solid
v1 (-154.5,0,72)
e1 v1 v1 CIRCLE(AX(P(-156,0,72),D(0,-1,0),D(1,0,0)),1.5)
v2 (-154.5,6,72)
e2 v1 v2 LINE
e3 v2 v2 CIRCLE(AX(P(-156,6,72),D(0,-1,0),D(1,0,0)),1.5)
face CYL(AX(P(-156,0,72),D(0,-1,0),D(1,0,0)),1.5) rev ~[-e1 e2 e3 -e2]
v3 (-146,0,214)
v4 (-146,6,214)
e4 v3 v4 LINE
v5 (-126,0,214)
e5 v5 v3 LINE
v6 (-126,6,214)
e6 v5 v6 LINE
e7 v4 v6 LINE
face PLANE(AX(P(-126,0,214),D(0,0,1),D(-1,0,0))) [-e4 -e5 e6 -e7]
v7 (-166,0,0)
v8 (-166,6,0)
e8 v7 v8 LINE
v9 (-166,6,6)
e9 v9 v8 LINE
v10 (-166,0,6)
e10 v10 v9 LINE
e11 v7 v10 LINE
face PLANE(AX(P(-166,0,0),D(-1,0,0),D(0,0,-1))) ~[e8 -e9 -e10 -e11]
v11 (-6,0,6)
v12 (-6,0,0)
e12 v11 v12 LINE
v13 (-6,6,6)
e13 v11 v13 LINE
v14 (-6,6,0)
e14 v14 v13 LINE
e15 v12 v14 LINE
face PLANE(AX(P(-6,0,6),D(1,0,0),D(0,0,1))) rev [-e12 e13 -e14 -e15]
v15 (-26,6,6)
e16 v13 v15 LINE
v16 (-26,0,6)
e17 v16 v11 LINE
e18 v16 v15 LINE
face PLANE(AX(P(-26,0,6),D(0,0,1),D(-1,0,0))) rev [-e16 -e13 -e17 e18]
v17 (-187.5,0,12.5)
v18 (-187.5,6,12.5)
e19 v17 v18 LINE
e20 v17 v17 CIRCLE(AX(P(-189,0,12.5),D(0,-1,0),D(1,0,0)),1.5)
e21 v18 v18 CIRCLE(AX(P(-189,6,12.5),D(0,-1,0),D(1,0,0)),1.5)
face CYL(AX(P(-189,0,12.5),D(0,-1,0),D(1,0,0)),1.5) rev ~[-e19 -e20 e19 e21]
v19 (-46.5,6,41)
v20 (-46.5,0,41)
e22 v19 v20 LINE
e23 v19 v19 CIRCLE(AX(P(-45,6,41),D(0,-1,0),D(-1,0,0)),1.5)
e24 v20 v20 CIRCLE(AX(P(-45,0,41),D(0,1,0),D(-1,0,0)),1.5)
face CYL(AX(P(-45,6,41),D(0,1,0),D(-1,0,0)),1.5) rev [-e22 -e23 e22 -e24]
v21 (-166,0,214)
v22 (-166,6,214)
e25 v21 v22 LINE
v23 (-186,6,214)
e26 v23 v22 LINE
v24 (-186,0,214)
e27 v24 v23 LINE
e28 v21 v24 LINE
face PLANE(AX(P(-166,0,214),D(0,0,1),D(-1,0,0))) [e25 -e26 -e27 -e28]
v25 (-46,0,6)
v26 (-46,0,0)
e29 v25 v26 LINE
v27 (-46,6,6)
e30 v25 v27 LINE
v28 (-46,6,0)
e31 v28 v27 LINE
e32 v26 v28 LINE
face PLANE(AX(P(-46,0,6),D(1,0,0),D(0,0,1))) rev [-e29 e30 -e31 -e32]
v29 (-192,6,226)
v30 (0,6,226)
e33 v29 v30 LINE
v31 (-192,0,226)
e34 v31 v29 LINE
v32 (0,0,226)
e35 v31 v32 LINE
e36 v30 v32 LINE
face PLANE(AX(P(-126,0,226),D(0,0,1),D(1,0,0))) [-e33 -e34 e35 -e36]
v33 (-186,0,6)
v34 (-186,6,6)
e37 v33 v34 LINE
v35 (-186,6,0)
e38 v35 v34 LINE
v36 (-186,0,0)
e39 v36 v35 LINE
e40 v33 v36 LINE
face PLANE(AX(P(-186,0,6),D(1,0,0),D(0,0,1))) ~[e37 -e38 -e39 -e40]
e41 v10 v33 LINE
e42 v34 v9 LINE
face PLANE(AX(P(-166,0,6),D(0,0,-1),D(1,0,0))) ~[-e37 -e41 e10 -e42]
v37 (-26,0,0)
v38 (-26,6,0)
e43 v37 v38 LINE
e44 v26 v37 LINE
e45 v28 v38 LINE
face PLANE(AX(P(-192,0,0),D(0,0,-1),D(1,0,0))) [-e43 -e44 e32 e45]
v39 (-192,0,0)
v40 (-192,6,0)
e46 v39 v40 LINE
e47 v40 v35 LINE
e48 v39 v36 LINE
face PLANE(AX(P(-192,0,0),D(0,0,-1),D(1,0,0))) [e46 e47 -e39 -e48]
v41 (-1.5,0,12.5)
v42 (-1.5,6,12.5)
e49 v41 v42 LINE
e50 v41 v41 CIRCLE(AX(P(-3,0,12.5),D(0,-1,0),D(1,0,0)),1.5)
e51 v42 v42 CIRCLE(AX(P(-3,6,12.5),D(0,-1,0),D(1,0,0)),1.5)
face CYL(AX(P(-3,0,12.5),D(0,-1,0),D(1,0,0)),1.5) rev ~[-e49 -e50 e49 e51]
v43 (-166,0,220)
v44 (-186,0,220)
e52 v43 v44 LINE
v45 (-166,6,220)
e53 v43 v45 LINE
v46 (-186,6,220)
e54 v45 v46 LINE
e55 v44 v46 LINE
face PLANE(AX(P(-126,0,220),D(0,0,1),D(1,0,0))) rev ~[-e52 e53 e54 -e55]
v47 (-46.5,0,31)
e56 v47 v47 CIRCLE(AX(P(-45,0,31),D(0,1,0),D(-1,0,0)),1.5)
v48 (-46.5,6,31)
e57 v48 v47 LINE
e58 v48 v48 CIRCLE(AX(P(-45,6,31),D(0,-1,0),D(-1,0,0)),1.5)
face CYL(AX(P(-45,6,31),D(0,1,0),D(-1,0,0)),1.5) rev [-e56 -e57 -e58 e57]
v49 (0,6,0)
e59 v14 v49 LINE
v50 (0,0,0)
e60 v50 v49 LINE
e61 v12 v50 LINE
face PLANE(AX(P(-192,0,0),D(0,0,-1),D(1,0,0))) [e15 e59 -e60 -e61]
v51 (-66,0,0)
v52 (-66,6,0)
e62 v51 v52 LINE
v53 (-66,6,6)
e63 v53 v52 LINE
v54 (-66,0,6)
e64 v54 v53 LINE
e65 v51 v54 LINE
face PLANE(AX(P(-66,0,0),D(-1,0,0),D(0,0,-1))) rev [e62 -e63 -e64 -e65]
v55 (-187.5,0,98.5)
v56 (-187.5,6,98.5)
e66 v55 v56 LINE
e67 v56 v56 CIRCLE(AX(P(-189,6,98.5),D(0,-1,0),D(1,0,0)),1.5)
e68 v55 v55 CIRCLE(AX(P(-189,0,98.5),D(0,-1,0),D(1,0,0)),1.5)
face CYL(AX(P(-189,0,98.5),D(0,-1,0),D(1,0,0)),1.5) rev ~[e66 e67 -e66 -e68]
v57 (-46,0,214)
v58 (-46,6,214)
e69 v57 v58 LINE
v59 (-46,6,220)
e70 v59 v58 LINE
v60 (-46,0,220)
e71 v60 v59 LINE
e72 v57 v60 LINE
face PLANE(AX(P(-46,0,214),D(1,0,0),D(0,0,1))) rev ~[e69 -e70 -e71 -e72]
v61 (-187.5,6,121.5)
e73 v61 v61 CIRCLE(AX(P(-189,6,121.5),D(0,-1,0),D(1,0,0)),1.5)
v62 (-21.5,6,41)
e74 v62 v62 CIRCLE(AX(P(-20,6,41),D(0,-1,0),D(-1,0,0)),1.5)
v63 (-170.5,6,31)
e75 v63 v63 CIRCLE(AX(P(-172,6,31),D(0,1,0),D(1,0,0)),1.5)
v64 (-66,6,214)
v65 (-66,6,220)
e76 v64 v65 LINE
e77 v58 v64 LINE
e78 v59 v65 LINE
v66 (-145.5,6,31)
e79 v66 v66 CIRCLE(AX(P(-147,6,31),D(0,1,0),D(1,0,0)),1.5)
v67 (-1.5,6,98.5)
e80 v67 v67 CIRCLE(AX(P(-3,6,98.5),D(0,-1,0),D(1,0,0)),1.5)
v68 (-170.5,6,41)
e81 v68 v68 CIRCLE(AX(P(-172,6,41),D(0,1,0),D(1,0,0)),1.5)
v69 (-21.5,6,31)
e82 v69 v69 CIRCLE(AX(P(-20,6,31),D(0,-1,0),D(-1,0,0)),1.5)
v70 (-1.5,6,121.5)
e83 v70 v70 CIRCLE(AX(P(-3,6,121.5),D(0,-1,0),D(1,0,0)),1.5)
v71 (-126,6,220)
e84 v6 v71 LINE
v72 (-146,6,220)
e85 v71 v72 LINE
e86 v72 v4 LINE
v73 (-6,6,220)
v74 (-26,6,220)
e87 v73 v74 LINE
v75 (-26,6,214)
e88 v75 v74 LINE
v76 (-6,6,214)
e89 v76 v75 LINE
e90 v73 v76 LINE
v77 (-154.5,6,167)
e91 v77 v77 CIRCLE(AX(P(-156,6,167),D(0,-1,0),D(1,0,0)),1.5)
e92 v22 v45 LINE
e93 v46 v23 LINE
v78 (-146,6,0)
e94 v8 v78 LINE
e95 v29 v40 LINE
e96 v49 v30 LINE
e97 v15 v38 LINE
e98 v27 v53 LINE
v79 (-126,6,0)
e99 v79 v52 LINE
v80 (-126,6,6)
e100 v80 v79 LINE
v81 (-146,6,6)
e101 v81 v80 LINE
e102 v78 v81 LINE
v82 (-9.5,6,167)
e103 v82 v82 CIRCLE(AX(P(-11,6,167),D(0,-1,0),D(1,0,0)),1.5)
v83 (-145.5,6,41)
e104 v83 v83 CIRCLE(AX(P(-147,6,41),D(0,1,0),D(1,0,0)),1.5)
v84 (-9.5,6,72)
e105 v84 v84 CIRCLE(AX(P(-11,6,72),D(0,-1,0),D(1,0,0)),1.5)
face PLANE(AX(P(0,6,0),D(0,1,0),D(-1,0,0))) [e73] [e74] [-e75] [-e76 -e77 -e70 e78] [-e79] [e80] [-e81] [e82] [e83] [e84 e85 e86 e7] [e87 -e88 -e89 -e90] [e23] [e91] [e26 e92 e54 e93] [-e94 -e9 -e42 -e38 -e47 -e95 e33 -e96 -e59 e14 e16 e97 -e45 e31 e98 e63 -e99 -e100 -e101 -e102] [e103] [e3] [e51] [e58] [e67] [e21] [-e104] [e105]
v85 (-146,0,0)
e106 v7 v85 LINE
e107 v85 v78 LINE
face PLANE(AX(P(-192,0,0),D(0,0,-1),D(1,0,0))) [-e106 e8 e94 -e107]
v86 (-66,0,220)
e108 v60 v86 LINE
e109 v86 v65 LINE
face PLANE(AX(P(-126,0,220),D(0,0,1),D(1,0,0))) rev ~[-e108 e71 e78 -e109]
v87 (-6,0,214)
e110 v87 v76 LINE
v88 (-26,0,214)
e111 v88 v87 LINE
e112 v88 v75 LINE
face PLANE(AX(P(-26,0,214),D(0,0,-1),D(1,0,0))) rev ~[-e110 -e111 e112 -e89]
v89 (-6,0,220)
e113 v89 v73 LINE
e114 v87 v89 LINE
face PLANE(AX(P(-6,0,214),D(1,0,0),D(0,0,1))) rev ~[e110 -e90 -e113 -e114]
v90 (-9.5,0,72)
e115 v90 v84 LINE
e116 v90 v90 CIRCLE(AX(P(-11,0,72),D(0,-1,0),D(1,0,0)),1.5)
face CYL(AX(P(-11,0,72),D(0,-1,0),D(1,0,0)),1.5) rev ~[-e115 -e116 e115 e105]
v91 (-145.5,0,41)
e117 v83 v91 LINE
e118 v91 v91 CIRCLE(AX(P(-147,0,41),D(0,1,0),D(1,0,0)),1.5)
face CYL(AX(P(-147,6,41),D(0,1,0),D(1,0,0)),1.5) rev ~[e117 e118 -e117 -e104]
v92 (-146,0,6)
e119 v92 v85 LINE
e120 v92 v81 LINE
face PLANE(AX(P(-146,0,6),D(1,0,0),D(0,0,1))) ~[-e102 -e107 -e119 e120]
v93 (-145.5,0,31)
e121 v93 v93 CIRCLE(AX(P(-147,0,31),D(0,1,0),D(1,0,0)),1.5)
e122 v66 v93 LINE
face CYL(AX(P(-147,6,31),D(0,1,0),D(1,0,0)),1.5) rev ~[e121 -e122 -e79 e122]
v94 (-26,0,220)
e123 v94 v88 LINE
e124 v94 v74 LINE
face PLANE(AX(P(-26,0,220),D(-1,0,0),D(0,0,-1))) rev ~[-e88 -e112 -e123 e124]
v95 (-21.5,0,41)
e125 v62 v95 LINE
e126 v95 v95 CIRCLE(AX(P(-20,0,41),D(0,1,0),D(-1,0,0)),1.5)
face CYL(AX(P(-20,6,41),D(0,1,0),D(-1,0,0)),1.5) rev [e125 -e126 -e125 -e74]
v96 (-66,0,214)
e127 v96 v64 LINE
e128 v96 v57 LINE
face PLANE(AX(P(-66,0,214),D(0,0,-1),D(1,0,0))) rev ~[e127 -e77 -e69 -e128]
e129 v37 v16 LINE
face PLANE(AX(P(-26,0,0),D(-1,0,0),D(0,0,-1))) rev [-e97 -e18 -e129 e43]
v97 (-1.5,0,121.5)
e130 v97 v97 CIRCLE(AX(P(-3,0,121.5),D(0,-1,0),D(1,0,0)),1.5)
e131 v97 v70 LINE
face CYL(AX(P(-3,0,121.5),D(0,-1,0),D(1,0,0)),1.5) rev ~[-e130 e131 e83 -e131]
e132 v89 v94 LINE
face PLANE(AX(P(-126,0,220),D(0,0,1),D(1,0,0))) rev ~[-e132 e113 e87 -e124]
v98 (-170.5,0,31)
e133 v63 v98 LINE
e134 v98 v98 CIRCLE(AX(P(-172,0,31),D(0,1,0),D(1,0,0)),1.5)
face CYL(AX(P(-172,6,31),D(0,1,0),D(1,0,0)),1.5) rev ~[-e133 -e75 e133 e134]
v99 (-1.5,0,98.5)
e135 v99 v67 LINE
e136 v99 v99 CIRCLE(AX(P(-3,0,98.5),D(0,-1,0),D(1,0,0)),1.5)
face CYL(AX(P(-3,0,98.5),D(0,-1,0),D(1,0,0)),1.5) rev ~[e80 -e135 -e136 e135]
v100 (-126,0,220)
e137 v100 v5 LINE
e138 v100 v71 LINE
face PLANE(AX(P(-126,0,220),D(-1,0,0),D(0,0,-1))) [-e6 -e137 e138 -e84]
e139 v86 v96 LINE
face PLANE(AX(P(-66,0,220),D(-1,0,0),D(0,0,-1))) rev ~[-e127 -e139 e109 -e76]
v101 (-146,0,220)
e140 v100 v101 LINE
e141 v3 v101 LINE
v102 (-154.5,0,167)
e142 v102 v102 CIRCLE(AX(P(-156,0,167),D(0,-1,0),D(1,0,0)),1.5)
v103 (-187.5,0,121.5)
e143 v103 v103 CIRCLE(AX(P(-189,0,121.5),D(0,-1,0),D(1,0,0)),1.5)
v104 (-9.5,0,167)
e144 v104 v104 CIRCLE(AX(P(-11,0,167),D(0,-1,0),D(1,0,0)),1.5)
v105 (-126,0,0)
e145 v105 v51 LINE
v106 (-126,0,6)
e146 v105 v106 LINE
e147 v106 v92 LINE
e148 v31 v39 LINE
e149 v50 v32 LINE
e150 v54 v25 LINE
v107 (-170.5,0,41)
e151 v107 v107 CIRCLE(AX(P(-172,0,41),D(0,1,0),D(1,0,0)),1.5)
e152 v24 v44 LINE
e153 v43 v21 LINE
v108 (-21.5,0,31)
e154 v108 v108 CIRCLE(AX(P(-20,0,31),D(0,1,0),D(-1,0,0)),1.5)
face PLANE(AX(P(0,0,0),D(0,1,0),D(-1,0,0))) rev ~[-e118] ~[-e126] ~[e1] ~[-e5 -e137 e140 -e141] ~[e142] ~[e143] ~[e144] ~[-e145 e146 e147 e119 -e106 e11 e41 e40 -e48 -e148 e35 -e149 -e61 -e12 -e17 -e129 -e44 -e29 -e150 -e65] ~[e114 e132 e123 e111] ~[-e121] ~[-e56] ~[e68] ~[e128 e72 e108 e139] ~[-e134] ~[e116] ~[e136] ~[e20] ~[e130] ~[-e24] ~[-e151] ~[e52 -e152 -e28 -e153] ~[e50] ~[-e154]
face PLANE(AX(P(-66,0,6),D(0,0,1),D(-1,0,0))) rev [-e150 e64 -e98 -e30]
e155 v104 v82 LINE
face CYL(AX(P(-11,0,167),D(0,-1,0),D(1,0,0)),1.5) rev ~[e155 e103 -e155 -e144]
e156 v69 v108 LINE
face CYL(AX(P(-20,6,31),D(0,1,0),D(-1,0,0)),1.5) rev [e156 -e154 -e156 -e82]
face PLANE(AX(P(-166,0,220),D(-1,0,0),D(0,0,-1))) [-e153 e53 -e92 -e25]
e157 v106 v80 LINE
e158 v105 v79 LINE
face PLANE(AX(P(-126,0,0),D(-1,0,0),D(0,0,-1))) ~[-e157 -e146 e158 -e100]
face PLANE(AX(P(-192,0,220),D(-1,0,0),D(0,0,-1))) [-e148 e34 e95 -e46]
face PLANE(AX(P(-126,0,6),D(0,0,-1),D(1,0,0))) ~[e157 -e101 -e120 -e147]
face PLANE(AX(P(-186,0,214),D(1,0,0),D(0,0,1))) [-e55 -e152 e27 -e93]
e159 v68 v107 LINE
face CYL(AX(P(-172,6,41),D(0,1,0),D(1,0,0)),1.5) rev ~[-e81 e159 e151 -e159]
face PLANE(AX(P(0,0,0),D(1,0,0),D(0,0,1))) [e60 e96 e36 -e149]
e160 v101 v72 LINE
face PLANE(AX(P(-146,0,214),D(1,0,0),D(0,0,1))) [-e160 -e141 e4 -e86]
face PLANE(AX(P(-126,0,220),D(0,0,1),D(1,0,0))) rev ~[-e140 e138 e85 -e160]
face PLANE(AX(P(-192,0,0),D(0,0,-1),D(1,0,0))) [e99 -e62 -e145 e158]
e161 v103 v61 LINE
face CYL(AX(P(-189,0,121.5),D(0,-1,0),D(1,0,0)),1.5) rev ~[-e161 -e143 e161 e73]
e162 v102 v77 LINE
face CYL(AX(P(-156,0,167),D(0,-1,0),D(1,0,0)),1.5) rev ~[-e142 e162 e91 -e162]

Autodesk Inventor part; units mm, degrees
ref_plane "YZ Plane" through (0, 0, 0) normal (1, 0, 0) x (0, 1, 0)
sketch "Эскиз1" plane through (0, 0, 0) normal (0, 1, 0) x (-1, 0, 0)
  line L0 (0, 220) -> (192, 220)
  line L1 (192, 220) -> (192, 0)
  line L2 (192, 0) -> (0, 0)
  line L3 (0, 0) -> (0, 220)
  circle A0 centre (11, 217) radius 1.5
  circle A1 centre (181, 217) radius 1.5
  circle A2 centre (5, 3) radius 1.5
  circle A3 centre (187, 3) radius 1.5
  line L4 (186, 6) -> (6, 6)
  line L5 (6, 6) -> (6, 244)
  line L6 (6, 244) -> (186, 244)
  line L7 (186, 244) -> (186, 6)
  dimension "d0" = 192
  dimension "d1" = 170
  dimension "d2" = 220
  dimension "d3" = 11
  dimension "d4" = 3
  dimension "d5" = 3
  dimension "d6" = 3
  dimension "d7" = 3
  dimension "d8" = 3
  dimension "d9" = 5
  dimension "d10" = 3
  dimension "d11" = 3
  dimension "d12" = 5
  dimension "d13" = 3
  dimension "d16" = 238
  dimension "d18" = 180
  dimension "d19" = 6
  dimension "d20" = 6
extrude "Выдавливание2" add sketch "Эскиз1" along normal blind 6 contours L0 L5 L4 L7 L1 L2 L3 | L0 L7 L4 L5 | A0 | A1 | A2 | A3
sketch "Эскиз2" plane through (0, 0, 0) normal (0, -1, 0) x (1, 0, 0)
  line L0 (-192, 220) -> (0, 220) projected
  line L1 (-6, 220) -> (-26, 220)
  line L2 (-26, 220) -> (-26, 214)
  line L3 (-26, 214) -> (-6, 214)
  line L4 (-6, 214) -> (-6, 220)
  line L5 (-46, 220) -> (-66, 220)
  line L6 (-66, 220) -> (-66, 214)
  line L7 (-66, 214) -> (-46, 214)
  line L8 (-46, 214) -> (-46, 220)
  line L9 (-186, 220) -> (-166, 220)
  line L10 (-166, 220) -> (-166, 214)
  line L11 (-166, 214) -> (-186, 214)
  line L12 (-186, 214) -> (-186, 220)
  line L13 (-146, 220) -> (-126, 220)
  line L14 (-126, 220) -> (-126, 214)
  line L15 (-126, 214) -> (-146, 214)
  line L16 (-146, 214) -> (-146, 220)
  line L17 (0, 220) -> (0, 0) projected
  line L18 (-192, 0) -> (-192, 220) projected
  point P0 (-66, 217)
  point P1 (-46, 217)
  point P2 (-26, 217)
  point P3 (-146, 217)
  point P4 (-126, 217)
  point P5 (-166, 217)
  point P6 (-186, 217)
  point P7 (-166, 220)
  point P8 (-126, 220)
  dimension "d23" = 6
  dimension "d24" = 20
  dimension "d25" = 6
  dimension "d26" = 20
  dimension "d27" = 20
  dimension "d28" = 20
  dimension "d29" = 20
  dimension "d30" = 20
  dimension "d31" = 6
extrude "Выдавливание3" cut sketch "Эскиз2" against normal through all
ref_plane "РабПлоскость1" through (-126, 0, 110) normal (0, 0, 1) x (1, 0, 0)
mirror "Зеркальное отражение1" about plane through (-126, 0, 110) normal (0, 0, 1) of "Выдавливание3"
sketch "Эскиз3" plane through (0, 0, 0) normal (0, -1, 0) x (1, 0, 0)
  circle A0 centre (-3, 98.5) radius 1.5
  circle A1 centre (-3, 121.5) radius 1.5
  circle A2 centre (-189, 98.5) radius 1.5
  circle A3 centre (-189, 121.5) radius 1.5
  line L0 (-192, 0) -> (-192, 220) projected
  line L1 (-231.3831, 110) -> (44.2986, 110) projected
  line L2 (0, 220) -> (0, 0) projected
  dimension "d34" = 3
  dimension "d35" = 3
  dimension "d36" = 3
  dimension "d37" = 11.5
  dimension "d38" = 3
  dimension "d39" = 11.5
  dimension "d40" = 3
  dimension "d41" = 3
  dimension "d43" = 11.5
  dimension "d44" = 3
  dimension "d45" = 3
  dimension "d46" = 11.5
extrude "Выдавливание4" cut sketch "Эскиз3" against normal blind 10
sketch "Эскиз4" plane through (0, 6, 0) normal (0, 1, 0) x (1, 0, 0)
  line L0 (4.3155, -27.8106) -> (4.3155, -29.0145) projected
  line L1 (4.3155, -43.2101) -> (4.3155, -29.2101) projected
  line L2 (4.3155, -31.8771) -> (4.3155, -40.1101) projected
  line L3 (4.3155, -27.8106) -> (4.3155, -29.0145) projected
  circle A0 centre (-3, -121.5) radius 1.5 projected
  circle A1 centre (-189, -121.5) radius 1.5 projected
  circle A2 centre (-3, -98.5) radius 1.5 projected
  circle A3 centre (-189, -98.5) radius 1.5 projected
  line L4 (-126, 0) -> (-126, -6) projected
  line L5 (-126, -6) -> (-146, -6) projected
  line L6 (-146, -6) -> (-146, 0) projected
  line L7 (-146, 0) -> (-166, 0) projected
  line L8 (-166, 0) -> (-166, -6) projected
  line L9 (-166, -6) -> (-186, -6) projected
  line L10 (-186, -6) -> (-186, 0) projected
  line L11 (-186, 0) -> (-192, 0) projected
  line L12 (-192, 0) -> (-192, -220) projected
  line L13 (-192, -220) -> (-186, -220) projected
  line L14 (-186, -220) -> (-186, -214) projected
  line L15 (-186, -214) -> (-166, -214) projected
  line L16 (-166, -214) -> (-166, -220) projected
  line L17 (-166, -220) -> (-146, -220) projected
  line L18 (-146, -220) -> (-146, -214) projected
  line L19 (-146, -214) -> (-126, -214) projected
  line L20 (-126, -214) -> (-126, -220) projected
  line L21 (-126, -220) -> (-66, -220) projected
  line L22 (-66, -220) -> (-66, -214) projected
  line L23 (-66, -214) -> (-46, -214) projected
  line L24 (-46, -214) -> (-46, -220) projected
  line L25 (-46, -220) -> (-26, -220) projected
  line L26 (-26, -220) -> (-26, -214) projected
  line L27 (-26, -214) -> (-6, -214) projected
  line L28 (-6, -214) -> (-6, -220) projected
  line L29 (-6, -220) -> (0, -220) projected
  line L30 (0, -220) -> (0, 0) projected
  line L31 (0, 0) -> (-6, 0) projected
  line L32 (-6, 0) -> (-6, -6) projected
  line L33 (-6, -6) -> (-26, -6) projected
  line L34 (-26, -6) -> (-26, 0) projected
  line L35 (-26, 0) -> (-46, 0) projected
  line L36 (-46, 0) -> (-46, -6) projected
  line L37 (-46, -6) -> (-66, -6) projected
  line L38 (-66, -6) -> (-66, 0) projected
  line L39 (-66, 0) -> (-126, 0) projected
  line L40 (0, -27.5) -> (0, -30.5) projected
  line L41 (-6, -30.5) -> (-6, -27.5) projected
  line L42 (0, -27.5) -> (0, -30.5) projected
  line L43 (-6, -30.5) -> (-6, -27.5) projected
  line L44 (0, -41.5) -> (0, -44.5) projected
  line L45 (-6, -44.5) -> (-6, -41.5) projected
  line L46 (0, -29) -> (0, -43) projected
  line L47 (-6, -43) -> (-6, -29) projected
  line L48 (0, -41.5) -> (0, -44.5) projected
  line L49 (-6, -44.5) -> (-6, -41.5) projected
  line L50 (4.3155, -22.5218) -> (4.3155, -51.048)
  line L51 (4.9155, -36.9084) -> (0.7155, -36.9084)
  line L52 (4.3155, -22.5218) -> (4.3155, -51.048)
  line L53 (1.3155, -44.914) -> (1.3155, -41.914) projected
  line L54 (4.3155, -44.914) -> (4.3155, -41.914) projected
  line L55 (4.3155, -43.6493) -> (1.3155, -43.6493) projected
  line L56 (4.3155, -40.543) -> (1.3155, -40.543) projected
  line L57 (1.3155, -40.543) -> (1.3155, -46.3135) projected
  line L58 (4.3155, -40.543) -> (4.3155, -46.3135) projected
  line L59 (1.3155, -32.3101) -> (1.3155, -40.543) projected
  line L60 (4.3155, -43.4057) -> (4.3155, -44.6096) projected
  line L61 (4.3155, -32.3101) -> (1.3155, -32.3101) projected
  line L62 (4.3155, -32.3101) -> (4.3155, -40.543) projected
  line L63 (1.3155, -30.9201) -> (1.3155, -27.9201) projected
  line L64 (4.3155, -30.9201) -> (4.3155, -27.9201) projected
  line L65 (1.3155, -26.5206) -> (1.3155, -32.3101) projected
  line L66 (4.3155, -26.5206) -> (4.3155, -32.3101) projected
  line L67 (4.3155, -31.8771) -> (1.3155, -31.8771) projected
  line L68 (4.3155, -28.7709) -> (1.3155, -28.7709) projected
  line L69 (1.3155, -31.8771) -> (1.3155, -40.1101) projected
  line L70 (4.3155, -31.8771) -> (4.3155, -40.1101) projected
  line L71 (1.3155, -43.2101) -> (1.3155, -29.2101) projected
  line L72 (4.3155, -43.2101) -> (4.3155, -29.2101) projected
  line L73 (1.3155, -26.1066) -> (1.3155, -31.8771) projected
  line L74 (4.3155, -26.1066) -> (4.3155, -31.8771) projected
  line L75 (1.3155, -43.4057) -> (1.3155, -44.6096) projected
  line L76 (1.3155, -44.5) -> (1.3155, -41.5) projected
  line L77 (4.3155, -44.5) -> (4.3155, -41.5) projected
  line L78 (4.3155, -43.4057) -> (1.3155, -43.4057) projected
  line L79 (4.3155, -40.1101) -> (1.3155, -40.1101) projected
  line L80 (1.3155, -40.1101) -> (1.3155, -45.8995) projected
  line L81 (4.3155, -40.1101) -> (4.3155, -45.8995) projected
  line L82 (1.3155, -30.5061) -> (1.3155, -27.5061) projected
  line L83 (4.3155, -29.0145) -> (1.3155, -29.0145) projected
  line L84 (4.3155, -27.8106) -> (4.3155, -29.0145) projected
  line L85 (4.3155, -30.5061) -> (4.3155, -27.5061) projected
  line L86 (1.3155, -27.8106) -> (1.3155, -29.0145) projected
  line L87 (4.3155, -41.914) -> (4.3155, -44.914) projected
  line L88 (4.3155, -40.5145) -> (4.3155, -46.3135) projected
  line L89 (4.3155, -43.3697) -> (4.3155, -43.0444) projected
  line L90 (4.3155, -41.5) -> (4.3155, -44.5) projected
  line L91 (4.3155, -40.1005) -> (4.3155, -45.8995) projected
  line L92 (4.3155, -22.2315) -> (4.3155, -52.6365) construction
  line L93 (4.3155, -23.5797) -> (4.3155, -51.7445) construction
  line L94 (4.3155, -35.5823) -> (4.3155, -36.4187) projected
  line L95 (4.3155, -30.9195) -> (4.3155, -41.9147) projected
  line L96 (4.3155, -42.8814) -> (4.3155, -43.61) construction
  line L97 (4.3155, -29.0505) -> (4.3155, -29.2131) projected
  line L98 (4.3155, -29.2101) -> (4.3155, -43.2101) projected
  line L99 (4.3155, -27.8106) -> (4.3155, -44.6096) projected
  line L100 (4.3155, -28.8799) -> (4.3155, -29.6854) construction
  line L101 (4.3155, -29.3758) -> (4.3155, -29.2131) projected
  line L102 (4.3155, -27.9201) -> (4.3155, -30.9201) projected
  line L103 (4.3155, -26.5206) -> (4.3155, -32.3196) projected
  line L104 (4.3155, -27.5061) -> (4.3155, -30.5061) projected
  line L105 (4.3155, -26.1066) -> (4.3155, -31.9056) projected
  line L106 (4.3155, -30.5055) -> (4.3155, -36.0031) projected
  line L107 (4.3155, -41.5007) -> (4.3155, -36.0031) projected
  line L108 (4.3155, -29.6845) -> (4.3155, -30.2653) construction
  point P0 (4.3155, -43.414)
  point P1 (4.3155, -43)
  point P2 (4.3155, -36.2101)
  point P3 (4.3155, -29.4201)
  point P4 (4.3155, -29.0061)
  point P5 (4.3155, -35.9427)
  point P6 (4.3155, -31.8212)
sketch "Эскиз5" plane through (0, 6, 0) normal (0, 1, 0) x (1, 0, 0)
  circle A0 centre (-172, -41) radius 1.5
  circle A1 centre (-172, -31) radius 1.5
  line L0 (-186, -214) -> (-166, -214) projected
  line L1 (-192, 0) -> (-192, -220) projected
  line L2 (-166, -6) -> (-186, -6) projected
  circle A2 centre (-147, -41) radius 1.5
  circle A3 centre (-147, -31) radius 1.5
  point P0 (0, 0)
  dimension "d49" = 3
  dimension "d52" = 20
  dimension "d53" = 10
  dimension "d54" = 3
  dimension "d57" = 25
  dimension "d58" = 20
  dimension "d87" = 3
  dimension "d88" = 25
  dimension "d89" = 25
extrude "Выдавливание5" cut sketch "Эскиз5" against normal blind 10
ref_plane "РабПлоскость2" through (-96, 0, 220) normal (1, 0, 0) x (0, 0, -1)
mirror "Зеркальное отражение2" about plane through (-96, 0, 220) normal (1, 0, 0) of "Выдавливание5"
sketch "Эскиз6" plane through (-126, 0, 220) normal (0, 0, 1) x (1, 0, 0)
  line L0 (-66, 6) -> (126, 6)
  line L1 (126, 6) -> (126, 0)
  line L2 (126, 0) -> (-66, 0)
  line L3 (-66, 0) -> (-66, 6)
  line L4 (-66, 6) -> (-60, 6) projected
  line L5 (-60, 6) -> (-60, 0) projected
  line L6 (-60, 0) -> (-66, 0) projected
  line L7 (-66, 0) -> (-66, 6) projected
  line L8 (-40, 6) -> (-20, 6) projected
  line L9 (-20, 6) -> (-20, 0) projected
  line L10 (-20, 0) -> (-40, 0) projected
  line L11 (-40, 0) -> (-40, 6) projected
  line L12 (0, 6) -> (60, 6) projected
  line L13 (60, 6) -> (60, 0) projected
  line L14 (60, 0) -> (0, 0) projected
  line L15 (0, 0) -> (0, 6) projected
  line L16 (80, 6) -> (100, 6) projected
  line L17 (100, 6) -> (100, 0) projected
  line L18 (100, 0) -> (80, 0) projected
  line L19 (80, 0) -> (80, 6) projected
  line L20 (120, 6) -> (126, 6) projected
  line L21 (126, 6) -> (126, 0) projected
  line L22 (126, 0) -> (120, 0) projected
  line L23 (120, 0) -> (120, 6) projected
  line L24 (-66, 6) -> (-60, 6) projected
  line L25 (-60, 6) -> (-60, 0) projected
  line L26 (-60, 0) -> (-66, 0) projected
  line L27 (-40, 6) -> (-20, 6) projected
  line L28 (-20, 6) -> (-20, 0) projected
  line L29 (-20, 0) -> (-40, 0) projected
  line L30 (-40, 0) -> (-40, 6) projected
  line L31 (0, 6) -> (60, 6) projected
  line L32 (60, 6) -> (60, 0) projected
  line L33 (60, 0) -> (0, 0) projected
  line L34 (0, 0) -> (0, 6) projected
  line L35 (80, 6) -> (100, 6) projected
  line L36 (100, 6) -> (100, 0) projected
  line L37 (100, 0) -> (80, 0) projected
  line L38 (80, 0) -> (80, 6) projected
  line L39 (120, 6) -> (126, 6) projected
  line L40 (126, 6) -> (126, 0) projected
  line L41 (126, 0) -> (120, 0) projected
  line L42 (120, 0) -> (120, 6) projected
  line L43 (-66, 6) -> (-60, 6) projected
  line L44 (-60, 6) -> (-60, 0) projected
  line L45 (-60, 0) -> (-66, 0) projected
  line L46 (-40, 6) -> (-20, 6) projected
  line L47 (-20, 6) -> (-20, 0) projected
  line L48 (-20, 0) -> (-40, 0) projected
  line L49 (-40, 0) -> (-40, 6) projected
  line L50 (0, 6) -> (60, 6) projected
  line L51 (60, 6) -> (60, 0) projected
  line L52 (60, 0) -> (0, 0) projected
  line L53 (0, 0) -> (0, 6) projected
  line L54 (80, 6) -> (100, 6) projected
  line L55 (100, 6) -> (100, 0) projected
  line L56 (100, 0) -> (80, 0) projected
  line L57 (80, 0) -> (80, 6) projected
  line L58 (120, 6) -> (126, 6) projected
  line L59 (126, 6) -> (126, 0) projected
  line L60 (126, 0) -> (120, 0) projected
  line L61 (120, 0) -> (120, 6) projected
  line L62 (120, 6) -> (126, 6) projected
  line L63 (126, 0) -> (126, 6) projected
  line L64 (120, 0) -> (126, 0) projected
  line L65 (-66, 0) -> (-66, 6) projected
  line L66 (-66, 0) -> (-66, 6) projected
extrude "Выдавливание6" add sketch "Эскиз6" along normal blind 6
sketch "Эскиз7" plane through (0, 0, 0) normal (0, -1, 0) x (1, 0, 0)
  circle A0 centre (-3, 12.5) radius 1.5
  line L0 (0, 0) -> (0, 226) projected
  line L1 (-26, 6) -> (-6, 6) projected
  circle A1 centre (-189, 12.5) radius 1.5
  line L2 (-192, 0) -> (-192, 226) projected
  line L3 (-186, 6) -> (-166, 6) projected
  dimension "d61" = 3
  dimension "d62" = 3
  dimension "d64" = 6.5
  dimension "d65" = 3
  dimension "d66" = 3
  dimension "d67" = 6.5
extrude "Выдавливание7" cut sketch "Эскиз7" against normal through all
sketch "Эскиз8" plane through (0, 0, 0) normal (0, -1, 0) x (1, 0, 0)
  circle A0 centre (-11, 167) radius 1.5
  circle A1 centre (-11, 72) radius 1.5
  circle A2 centre (-156, 167) radius 1.5
  circle A3 centre (-156, 72) radius 1.5
  line L0 (-46, 220) -> (-26, 220) projected
  line L1 (-166, 214) -> (-186, 214) projected
  line L2 (0, 0) -> (0, 226) projected
  dimension "d70" = 95
  dimension "d71" = 95
  dimension "d72" = 145
  dimension "d73" = 3
  dimension "d74" = 3
  dimension "d75" = 3
  dimension "d76" = 3
  dimension "d77" = 53
  dimension "d78" = 47
  dimension "d79" = 11
  dimension "d80" = 11
  dimension "d81" = 145
extrude "Выдавливание8" cut sketch "Эскиз8" against normal through all
equation "\"d26\" = d24"
equation "\"d27\" = d24"
equation "\"d28\" = d24"
equation "\"d29\" = d24"
equation "\"d30\" = d24"
equation "\"d39\" = d37"
equation "\"d43\" = d37"
equation "\"d46\" = d37"
equation "\"d74\" = d73"
equation "\"d75\" = d73"
equation "\"d76\" = d73"
properties part number "дно_пробитое"
